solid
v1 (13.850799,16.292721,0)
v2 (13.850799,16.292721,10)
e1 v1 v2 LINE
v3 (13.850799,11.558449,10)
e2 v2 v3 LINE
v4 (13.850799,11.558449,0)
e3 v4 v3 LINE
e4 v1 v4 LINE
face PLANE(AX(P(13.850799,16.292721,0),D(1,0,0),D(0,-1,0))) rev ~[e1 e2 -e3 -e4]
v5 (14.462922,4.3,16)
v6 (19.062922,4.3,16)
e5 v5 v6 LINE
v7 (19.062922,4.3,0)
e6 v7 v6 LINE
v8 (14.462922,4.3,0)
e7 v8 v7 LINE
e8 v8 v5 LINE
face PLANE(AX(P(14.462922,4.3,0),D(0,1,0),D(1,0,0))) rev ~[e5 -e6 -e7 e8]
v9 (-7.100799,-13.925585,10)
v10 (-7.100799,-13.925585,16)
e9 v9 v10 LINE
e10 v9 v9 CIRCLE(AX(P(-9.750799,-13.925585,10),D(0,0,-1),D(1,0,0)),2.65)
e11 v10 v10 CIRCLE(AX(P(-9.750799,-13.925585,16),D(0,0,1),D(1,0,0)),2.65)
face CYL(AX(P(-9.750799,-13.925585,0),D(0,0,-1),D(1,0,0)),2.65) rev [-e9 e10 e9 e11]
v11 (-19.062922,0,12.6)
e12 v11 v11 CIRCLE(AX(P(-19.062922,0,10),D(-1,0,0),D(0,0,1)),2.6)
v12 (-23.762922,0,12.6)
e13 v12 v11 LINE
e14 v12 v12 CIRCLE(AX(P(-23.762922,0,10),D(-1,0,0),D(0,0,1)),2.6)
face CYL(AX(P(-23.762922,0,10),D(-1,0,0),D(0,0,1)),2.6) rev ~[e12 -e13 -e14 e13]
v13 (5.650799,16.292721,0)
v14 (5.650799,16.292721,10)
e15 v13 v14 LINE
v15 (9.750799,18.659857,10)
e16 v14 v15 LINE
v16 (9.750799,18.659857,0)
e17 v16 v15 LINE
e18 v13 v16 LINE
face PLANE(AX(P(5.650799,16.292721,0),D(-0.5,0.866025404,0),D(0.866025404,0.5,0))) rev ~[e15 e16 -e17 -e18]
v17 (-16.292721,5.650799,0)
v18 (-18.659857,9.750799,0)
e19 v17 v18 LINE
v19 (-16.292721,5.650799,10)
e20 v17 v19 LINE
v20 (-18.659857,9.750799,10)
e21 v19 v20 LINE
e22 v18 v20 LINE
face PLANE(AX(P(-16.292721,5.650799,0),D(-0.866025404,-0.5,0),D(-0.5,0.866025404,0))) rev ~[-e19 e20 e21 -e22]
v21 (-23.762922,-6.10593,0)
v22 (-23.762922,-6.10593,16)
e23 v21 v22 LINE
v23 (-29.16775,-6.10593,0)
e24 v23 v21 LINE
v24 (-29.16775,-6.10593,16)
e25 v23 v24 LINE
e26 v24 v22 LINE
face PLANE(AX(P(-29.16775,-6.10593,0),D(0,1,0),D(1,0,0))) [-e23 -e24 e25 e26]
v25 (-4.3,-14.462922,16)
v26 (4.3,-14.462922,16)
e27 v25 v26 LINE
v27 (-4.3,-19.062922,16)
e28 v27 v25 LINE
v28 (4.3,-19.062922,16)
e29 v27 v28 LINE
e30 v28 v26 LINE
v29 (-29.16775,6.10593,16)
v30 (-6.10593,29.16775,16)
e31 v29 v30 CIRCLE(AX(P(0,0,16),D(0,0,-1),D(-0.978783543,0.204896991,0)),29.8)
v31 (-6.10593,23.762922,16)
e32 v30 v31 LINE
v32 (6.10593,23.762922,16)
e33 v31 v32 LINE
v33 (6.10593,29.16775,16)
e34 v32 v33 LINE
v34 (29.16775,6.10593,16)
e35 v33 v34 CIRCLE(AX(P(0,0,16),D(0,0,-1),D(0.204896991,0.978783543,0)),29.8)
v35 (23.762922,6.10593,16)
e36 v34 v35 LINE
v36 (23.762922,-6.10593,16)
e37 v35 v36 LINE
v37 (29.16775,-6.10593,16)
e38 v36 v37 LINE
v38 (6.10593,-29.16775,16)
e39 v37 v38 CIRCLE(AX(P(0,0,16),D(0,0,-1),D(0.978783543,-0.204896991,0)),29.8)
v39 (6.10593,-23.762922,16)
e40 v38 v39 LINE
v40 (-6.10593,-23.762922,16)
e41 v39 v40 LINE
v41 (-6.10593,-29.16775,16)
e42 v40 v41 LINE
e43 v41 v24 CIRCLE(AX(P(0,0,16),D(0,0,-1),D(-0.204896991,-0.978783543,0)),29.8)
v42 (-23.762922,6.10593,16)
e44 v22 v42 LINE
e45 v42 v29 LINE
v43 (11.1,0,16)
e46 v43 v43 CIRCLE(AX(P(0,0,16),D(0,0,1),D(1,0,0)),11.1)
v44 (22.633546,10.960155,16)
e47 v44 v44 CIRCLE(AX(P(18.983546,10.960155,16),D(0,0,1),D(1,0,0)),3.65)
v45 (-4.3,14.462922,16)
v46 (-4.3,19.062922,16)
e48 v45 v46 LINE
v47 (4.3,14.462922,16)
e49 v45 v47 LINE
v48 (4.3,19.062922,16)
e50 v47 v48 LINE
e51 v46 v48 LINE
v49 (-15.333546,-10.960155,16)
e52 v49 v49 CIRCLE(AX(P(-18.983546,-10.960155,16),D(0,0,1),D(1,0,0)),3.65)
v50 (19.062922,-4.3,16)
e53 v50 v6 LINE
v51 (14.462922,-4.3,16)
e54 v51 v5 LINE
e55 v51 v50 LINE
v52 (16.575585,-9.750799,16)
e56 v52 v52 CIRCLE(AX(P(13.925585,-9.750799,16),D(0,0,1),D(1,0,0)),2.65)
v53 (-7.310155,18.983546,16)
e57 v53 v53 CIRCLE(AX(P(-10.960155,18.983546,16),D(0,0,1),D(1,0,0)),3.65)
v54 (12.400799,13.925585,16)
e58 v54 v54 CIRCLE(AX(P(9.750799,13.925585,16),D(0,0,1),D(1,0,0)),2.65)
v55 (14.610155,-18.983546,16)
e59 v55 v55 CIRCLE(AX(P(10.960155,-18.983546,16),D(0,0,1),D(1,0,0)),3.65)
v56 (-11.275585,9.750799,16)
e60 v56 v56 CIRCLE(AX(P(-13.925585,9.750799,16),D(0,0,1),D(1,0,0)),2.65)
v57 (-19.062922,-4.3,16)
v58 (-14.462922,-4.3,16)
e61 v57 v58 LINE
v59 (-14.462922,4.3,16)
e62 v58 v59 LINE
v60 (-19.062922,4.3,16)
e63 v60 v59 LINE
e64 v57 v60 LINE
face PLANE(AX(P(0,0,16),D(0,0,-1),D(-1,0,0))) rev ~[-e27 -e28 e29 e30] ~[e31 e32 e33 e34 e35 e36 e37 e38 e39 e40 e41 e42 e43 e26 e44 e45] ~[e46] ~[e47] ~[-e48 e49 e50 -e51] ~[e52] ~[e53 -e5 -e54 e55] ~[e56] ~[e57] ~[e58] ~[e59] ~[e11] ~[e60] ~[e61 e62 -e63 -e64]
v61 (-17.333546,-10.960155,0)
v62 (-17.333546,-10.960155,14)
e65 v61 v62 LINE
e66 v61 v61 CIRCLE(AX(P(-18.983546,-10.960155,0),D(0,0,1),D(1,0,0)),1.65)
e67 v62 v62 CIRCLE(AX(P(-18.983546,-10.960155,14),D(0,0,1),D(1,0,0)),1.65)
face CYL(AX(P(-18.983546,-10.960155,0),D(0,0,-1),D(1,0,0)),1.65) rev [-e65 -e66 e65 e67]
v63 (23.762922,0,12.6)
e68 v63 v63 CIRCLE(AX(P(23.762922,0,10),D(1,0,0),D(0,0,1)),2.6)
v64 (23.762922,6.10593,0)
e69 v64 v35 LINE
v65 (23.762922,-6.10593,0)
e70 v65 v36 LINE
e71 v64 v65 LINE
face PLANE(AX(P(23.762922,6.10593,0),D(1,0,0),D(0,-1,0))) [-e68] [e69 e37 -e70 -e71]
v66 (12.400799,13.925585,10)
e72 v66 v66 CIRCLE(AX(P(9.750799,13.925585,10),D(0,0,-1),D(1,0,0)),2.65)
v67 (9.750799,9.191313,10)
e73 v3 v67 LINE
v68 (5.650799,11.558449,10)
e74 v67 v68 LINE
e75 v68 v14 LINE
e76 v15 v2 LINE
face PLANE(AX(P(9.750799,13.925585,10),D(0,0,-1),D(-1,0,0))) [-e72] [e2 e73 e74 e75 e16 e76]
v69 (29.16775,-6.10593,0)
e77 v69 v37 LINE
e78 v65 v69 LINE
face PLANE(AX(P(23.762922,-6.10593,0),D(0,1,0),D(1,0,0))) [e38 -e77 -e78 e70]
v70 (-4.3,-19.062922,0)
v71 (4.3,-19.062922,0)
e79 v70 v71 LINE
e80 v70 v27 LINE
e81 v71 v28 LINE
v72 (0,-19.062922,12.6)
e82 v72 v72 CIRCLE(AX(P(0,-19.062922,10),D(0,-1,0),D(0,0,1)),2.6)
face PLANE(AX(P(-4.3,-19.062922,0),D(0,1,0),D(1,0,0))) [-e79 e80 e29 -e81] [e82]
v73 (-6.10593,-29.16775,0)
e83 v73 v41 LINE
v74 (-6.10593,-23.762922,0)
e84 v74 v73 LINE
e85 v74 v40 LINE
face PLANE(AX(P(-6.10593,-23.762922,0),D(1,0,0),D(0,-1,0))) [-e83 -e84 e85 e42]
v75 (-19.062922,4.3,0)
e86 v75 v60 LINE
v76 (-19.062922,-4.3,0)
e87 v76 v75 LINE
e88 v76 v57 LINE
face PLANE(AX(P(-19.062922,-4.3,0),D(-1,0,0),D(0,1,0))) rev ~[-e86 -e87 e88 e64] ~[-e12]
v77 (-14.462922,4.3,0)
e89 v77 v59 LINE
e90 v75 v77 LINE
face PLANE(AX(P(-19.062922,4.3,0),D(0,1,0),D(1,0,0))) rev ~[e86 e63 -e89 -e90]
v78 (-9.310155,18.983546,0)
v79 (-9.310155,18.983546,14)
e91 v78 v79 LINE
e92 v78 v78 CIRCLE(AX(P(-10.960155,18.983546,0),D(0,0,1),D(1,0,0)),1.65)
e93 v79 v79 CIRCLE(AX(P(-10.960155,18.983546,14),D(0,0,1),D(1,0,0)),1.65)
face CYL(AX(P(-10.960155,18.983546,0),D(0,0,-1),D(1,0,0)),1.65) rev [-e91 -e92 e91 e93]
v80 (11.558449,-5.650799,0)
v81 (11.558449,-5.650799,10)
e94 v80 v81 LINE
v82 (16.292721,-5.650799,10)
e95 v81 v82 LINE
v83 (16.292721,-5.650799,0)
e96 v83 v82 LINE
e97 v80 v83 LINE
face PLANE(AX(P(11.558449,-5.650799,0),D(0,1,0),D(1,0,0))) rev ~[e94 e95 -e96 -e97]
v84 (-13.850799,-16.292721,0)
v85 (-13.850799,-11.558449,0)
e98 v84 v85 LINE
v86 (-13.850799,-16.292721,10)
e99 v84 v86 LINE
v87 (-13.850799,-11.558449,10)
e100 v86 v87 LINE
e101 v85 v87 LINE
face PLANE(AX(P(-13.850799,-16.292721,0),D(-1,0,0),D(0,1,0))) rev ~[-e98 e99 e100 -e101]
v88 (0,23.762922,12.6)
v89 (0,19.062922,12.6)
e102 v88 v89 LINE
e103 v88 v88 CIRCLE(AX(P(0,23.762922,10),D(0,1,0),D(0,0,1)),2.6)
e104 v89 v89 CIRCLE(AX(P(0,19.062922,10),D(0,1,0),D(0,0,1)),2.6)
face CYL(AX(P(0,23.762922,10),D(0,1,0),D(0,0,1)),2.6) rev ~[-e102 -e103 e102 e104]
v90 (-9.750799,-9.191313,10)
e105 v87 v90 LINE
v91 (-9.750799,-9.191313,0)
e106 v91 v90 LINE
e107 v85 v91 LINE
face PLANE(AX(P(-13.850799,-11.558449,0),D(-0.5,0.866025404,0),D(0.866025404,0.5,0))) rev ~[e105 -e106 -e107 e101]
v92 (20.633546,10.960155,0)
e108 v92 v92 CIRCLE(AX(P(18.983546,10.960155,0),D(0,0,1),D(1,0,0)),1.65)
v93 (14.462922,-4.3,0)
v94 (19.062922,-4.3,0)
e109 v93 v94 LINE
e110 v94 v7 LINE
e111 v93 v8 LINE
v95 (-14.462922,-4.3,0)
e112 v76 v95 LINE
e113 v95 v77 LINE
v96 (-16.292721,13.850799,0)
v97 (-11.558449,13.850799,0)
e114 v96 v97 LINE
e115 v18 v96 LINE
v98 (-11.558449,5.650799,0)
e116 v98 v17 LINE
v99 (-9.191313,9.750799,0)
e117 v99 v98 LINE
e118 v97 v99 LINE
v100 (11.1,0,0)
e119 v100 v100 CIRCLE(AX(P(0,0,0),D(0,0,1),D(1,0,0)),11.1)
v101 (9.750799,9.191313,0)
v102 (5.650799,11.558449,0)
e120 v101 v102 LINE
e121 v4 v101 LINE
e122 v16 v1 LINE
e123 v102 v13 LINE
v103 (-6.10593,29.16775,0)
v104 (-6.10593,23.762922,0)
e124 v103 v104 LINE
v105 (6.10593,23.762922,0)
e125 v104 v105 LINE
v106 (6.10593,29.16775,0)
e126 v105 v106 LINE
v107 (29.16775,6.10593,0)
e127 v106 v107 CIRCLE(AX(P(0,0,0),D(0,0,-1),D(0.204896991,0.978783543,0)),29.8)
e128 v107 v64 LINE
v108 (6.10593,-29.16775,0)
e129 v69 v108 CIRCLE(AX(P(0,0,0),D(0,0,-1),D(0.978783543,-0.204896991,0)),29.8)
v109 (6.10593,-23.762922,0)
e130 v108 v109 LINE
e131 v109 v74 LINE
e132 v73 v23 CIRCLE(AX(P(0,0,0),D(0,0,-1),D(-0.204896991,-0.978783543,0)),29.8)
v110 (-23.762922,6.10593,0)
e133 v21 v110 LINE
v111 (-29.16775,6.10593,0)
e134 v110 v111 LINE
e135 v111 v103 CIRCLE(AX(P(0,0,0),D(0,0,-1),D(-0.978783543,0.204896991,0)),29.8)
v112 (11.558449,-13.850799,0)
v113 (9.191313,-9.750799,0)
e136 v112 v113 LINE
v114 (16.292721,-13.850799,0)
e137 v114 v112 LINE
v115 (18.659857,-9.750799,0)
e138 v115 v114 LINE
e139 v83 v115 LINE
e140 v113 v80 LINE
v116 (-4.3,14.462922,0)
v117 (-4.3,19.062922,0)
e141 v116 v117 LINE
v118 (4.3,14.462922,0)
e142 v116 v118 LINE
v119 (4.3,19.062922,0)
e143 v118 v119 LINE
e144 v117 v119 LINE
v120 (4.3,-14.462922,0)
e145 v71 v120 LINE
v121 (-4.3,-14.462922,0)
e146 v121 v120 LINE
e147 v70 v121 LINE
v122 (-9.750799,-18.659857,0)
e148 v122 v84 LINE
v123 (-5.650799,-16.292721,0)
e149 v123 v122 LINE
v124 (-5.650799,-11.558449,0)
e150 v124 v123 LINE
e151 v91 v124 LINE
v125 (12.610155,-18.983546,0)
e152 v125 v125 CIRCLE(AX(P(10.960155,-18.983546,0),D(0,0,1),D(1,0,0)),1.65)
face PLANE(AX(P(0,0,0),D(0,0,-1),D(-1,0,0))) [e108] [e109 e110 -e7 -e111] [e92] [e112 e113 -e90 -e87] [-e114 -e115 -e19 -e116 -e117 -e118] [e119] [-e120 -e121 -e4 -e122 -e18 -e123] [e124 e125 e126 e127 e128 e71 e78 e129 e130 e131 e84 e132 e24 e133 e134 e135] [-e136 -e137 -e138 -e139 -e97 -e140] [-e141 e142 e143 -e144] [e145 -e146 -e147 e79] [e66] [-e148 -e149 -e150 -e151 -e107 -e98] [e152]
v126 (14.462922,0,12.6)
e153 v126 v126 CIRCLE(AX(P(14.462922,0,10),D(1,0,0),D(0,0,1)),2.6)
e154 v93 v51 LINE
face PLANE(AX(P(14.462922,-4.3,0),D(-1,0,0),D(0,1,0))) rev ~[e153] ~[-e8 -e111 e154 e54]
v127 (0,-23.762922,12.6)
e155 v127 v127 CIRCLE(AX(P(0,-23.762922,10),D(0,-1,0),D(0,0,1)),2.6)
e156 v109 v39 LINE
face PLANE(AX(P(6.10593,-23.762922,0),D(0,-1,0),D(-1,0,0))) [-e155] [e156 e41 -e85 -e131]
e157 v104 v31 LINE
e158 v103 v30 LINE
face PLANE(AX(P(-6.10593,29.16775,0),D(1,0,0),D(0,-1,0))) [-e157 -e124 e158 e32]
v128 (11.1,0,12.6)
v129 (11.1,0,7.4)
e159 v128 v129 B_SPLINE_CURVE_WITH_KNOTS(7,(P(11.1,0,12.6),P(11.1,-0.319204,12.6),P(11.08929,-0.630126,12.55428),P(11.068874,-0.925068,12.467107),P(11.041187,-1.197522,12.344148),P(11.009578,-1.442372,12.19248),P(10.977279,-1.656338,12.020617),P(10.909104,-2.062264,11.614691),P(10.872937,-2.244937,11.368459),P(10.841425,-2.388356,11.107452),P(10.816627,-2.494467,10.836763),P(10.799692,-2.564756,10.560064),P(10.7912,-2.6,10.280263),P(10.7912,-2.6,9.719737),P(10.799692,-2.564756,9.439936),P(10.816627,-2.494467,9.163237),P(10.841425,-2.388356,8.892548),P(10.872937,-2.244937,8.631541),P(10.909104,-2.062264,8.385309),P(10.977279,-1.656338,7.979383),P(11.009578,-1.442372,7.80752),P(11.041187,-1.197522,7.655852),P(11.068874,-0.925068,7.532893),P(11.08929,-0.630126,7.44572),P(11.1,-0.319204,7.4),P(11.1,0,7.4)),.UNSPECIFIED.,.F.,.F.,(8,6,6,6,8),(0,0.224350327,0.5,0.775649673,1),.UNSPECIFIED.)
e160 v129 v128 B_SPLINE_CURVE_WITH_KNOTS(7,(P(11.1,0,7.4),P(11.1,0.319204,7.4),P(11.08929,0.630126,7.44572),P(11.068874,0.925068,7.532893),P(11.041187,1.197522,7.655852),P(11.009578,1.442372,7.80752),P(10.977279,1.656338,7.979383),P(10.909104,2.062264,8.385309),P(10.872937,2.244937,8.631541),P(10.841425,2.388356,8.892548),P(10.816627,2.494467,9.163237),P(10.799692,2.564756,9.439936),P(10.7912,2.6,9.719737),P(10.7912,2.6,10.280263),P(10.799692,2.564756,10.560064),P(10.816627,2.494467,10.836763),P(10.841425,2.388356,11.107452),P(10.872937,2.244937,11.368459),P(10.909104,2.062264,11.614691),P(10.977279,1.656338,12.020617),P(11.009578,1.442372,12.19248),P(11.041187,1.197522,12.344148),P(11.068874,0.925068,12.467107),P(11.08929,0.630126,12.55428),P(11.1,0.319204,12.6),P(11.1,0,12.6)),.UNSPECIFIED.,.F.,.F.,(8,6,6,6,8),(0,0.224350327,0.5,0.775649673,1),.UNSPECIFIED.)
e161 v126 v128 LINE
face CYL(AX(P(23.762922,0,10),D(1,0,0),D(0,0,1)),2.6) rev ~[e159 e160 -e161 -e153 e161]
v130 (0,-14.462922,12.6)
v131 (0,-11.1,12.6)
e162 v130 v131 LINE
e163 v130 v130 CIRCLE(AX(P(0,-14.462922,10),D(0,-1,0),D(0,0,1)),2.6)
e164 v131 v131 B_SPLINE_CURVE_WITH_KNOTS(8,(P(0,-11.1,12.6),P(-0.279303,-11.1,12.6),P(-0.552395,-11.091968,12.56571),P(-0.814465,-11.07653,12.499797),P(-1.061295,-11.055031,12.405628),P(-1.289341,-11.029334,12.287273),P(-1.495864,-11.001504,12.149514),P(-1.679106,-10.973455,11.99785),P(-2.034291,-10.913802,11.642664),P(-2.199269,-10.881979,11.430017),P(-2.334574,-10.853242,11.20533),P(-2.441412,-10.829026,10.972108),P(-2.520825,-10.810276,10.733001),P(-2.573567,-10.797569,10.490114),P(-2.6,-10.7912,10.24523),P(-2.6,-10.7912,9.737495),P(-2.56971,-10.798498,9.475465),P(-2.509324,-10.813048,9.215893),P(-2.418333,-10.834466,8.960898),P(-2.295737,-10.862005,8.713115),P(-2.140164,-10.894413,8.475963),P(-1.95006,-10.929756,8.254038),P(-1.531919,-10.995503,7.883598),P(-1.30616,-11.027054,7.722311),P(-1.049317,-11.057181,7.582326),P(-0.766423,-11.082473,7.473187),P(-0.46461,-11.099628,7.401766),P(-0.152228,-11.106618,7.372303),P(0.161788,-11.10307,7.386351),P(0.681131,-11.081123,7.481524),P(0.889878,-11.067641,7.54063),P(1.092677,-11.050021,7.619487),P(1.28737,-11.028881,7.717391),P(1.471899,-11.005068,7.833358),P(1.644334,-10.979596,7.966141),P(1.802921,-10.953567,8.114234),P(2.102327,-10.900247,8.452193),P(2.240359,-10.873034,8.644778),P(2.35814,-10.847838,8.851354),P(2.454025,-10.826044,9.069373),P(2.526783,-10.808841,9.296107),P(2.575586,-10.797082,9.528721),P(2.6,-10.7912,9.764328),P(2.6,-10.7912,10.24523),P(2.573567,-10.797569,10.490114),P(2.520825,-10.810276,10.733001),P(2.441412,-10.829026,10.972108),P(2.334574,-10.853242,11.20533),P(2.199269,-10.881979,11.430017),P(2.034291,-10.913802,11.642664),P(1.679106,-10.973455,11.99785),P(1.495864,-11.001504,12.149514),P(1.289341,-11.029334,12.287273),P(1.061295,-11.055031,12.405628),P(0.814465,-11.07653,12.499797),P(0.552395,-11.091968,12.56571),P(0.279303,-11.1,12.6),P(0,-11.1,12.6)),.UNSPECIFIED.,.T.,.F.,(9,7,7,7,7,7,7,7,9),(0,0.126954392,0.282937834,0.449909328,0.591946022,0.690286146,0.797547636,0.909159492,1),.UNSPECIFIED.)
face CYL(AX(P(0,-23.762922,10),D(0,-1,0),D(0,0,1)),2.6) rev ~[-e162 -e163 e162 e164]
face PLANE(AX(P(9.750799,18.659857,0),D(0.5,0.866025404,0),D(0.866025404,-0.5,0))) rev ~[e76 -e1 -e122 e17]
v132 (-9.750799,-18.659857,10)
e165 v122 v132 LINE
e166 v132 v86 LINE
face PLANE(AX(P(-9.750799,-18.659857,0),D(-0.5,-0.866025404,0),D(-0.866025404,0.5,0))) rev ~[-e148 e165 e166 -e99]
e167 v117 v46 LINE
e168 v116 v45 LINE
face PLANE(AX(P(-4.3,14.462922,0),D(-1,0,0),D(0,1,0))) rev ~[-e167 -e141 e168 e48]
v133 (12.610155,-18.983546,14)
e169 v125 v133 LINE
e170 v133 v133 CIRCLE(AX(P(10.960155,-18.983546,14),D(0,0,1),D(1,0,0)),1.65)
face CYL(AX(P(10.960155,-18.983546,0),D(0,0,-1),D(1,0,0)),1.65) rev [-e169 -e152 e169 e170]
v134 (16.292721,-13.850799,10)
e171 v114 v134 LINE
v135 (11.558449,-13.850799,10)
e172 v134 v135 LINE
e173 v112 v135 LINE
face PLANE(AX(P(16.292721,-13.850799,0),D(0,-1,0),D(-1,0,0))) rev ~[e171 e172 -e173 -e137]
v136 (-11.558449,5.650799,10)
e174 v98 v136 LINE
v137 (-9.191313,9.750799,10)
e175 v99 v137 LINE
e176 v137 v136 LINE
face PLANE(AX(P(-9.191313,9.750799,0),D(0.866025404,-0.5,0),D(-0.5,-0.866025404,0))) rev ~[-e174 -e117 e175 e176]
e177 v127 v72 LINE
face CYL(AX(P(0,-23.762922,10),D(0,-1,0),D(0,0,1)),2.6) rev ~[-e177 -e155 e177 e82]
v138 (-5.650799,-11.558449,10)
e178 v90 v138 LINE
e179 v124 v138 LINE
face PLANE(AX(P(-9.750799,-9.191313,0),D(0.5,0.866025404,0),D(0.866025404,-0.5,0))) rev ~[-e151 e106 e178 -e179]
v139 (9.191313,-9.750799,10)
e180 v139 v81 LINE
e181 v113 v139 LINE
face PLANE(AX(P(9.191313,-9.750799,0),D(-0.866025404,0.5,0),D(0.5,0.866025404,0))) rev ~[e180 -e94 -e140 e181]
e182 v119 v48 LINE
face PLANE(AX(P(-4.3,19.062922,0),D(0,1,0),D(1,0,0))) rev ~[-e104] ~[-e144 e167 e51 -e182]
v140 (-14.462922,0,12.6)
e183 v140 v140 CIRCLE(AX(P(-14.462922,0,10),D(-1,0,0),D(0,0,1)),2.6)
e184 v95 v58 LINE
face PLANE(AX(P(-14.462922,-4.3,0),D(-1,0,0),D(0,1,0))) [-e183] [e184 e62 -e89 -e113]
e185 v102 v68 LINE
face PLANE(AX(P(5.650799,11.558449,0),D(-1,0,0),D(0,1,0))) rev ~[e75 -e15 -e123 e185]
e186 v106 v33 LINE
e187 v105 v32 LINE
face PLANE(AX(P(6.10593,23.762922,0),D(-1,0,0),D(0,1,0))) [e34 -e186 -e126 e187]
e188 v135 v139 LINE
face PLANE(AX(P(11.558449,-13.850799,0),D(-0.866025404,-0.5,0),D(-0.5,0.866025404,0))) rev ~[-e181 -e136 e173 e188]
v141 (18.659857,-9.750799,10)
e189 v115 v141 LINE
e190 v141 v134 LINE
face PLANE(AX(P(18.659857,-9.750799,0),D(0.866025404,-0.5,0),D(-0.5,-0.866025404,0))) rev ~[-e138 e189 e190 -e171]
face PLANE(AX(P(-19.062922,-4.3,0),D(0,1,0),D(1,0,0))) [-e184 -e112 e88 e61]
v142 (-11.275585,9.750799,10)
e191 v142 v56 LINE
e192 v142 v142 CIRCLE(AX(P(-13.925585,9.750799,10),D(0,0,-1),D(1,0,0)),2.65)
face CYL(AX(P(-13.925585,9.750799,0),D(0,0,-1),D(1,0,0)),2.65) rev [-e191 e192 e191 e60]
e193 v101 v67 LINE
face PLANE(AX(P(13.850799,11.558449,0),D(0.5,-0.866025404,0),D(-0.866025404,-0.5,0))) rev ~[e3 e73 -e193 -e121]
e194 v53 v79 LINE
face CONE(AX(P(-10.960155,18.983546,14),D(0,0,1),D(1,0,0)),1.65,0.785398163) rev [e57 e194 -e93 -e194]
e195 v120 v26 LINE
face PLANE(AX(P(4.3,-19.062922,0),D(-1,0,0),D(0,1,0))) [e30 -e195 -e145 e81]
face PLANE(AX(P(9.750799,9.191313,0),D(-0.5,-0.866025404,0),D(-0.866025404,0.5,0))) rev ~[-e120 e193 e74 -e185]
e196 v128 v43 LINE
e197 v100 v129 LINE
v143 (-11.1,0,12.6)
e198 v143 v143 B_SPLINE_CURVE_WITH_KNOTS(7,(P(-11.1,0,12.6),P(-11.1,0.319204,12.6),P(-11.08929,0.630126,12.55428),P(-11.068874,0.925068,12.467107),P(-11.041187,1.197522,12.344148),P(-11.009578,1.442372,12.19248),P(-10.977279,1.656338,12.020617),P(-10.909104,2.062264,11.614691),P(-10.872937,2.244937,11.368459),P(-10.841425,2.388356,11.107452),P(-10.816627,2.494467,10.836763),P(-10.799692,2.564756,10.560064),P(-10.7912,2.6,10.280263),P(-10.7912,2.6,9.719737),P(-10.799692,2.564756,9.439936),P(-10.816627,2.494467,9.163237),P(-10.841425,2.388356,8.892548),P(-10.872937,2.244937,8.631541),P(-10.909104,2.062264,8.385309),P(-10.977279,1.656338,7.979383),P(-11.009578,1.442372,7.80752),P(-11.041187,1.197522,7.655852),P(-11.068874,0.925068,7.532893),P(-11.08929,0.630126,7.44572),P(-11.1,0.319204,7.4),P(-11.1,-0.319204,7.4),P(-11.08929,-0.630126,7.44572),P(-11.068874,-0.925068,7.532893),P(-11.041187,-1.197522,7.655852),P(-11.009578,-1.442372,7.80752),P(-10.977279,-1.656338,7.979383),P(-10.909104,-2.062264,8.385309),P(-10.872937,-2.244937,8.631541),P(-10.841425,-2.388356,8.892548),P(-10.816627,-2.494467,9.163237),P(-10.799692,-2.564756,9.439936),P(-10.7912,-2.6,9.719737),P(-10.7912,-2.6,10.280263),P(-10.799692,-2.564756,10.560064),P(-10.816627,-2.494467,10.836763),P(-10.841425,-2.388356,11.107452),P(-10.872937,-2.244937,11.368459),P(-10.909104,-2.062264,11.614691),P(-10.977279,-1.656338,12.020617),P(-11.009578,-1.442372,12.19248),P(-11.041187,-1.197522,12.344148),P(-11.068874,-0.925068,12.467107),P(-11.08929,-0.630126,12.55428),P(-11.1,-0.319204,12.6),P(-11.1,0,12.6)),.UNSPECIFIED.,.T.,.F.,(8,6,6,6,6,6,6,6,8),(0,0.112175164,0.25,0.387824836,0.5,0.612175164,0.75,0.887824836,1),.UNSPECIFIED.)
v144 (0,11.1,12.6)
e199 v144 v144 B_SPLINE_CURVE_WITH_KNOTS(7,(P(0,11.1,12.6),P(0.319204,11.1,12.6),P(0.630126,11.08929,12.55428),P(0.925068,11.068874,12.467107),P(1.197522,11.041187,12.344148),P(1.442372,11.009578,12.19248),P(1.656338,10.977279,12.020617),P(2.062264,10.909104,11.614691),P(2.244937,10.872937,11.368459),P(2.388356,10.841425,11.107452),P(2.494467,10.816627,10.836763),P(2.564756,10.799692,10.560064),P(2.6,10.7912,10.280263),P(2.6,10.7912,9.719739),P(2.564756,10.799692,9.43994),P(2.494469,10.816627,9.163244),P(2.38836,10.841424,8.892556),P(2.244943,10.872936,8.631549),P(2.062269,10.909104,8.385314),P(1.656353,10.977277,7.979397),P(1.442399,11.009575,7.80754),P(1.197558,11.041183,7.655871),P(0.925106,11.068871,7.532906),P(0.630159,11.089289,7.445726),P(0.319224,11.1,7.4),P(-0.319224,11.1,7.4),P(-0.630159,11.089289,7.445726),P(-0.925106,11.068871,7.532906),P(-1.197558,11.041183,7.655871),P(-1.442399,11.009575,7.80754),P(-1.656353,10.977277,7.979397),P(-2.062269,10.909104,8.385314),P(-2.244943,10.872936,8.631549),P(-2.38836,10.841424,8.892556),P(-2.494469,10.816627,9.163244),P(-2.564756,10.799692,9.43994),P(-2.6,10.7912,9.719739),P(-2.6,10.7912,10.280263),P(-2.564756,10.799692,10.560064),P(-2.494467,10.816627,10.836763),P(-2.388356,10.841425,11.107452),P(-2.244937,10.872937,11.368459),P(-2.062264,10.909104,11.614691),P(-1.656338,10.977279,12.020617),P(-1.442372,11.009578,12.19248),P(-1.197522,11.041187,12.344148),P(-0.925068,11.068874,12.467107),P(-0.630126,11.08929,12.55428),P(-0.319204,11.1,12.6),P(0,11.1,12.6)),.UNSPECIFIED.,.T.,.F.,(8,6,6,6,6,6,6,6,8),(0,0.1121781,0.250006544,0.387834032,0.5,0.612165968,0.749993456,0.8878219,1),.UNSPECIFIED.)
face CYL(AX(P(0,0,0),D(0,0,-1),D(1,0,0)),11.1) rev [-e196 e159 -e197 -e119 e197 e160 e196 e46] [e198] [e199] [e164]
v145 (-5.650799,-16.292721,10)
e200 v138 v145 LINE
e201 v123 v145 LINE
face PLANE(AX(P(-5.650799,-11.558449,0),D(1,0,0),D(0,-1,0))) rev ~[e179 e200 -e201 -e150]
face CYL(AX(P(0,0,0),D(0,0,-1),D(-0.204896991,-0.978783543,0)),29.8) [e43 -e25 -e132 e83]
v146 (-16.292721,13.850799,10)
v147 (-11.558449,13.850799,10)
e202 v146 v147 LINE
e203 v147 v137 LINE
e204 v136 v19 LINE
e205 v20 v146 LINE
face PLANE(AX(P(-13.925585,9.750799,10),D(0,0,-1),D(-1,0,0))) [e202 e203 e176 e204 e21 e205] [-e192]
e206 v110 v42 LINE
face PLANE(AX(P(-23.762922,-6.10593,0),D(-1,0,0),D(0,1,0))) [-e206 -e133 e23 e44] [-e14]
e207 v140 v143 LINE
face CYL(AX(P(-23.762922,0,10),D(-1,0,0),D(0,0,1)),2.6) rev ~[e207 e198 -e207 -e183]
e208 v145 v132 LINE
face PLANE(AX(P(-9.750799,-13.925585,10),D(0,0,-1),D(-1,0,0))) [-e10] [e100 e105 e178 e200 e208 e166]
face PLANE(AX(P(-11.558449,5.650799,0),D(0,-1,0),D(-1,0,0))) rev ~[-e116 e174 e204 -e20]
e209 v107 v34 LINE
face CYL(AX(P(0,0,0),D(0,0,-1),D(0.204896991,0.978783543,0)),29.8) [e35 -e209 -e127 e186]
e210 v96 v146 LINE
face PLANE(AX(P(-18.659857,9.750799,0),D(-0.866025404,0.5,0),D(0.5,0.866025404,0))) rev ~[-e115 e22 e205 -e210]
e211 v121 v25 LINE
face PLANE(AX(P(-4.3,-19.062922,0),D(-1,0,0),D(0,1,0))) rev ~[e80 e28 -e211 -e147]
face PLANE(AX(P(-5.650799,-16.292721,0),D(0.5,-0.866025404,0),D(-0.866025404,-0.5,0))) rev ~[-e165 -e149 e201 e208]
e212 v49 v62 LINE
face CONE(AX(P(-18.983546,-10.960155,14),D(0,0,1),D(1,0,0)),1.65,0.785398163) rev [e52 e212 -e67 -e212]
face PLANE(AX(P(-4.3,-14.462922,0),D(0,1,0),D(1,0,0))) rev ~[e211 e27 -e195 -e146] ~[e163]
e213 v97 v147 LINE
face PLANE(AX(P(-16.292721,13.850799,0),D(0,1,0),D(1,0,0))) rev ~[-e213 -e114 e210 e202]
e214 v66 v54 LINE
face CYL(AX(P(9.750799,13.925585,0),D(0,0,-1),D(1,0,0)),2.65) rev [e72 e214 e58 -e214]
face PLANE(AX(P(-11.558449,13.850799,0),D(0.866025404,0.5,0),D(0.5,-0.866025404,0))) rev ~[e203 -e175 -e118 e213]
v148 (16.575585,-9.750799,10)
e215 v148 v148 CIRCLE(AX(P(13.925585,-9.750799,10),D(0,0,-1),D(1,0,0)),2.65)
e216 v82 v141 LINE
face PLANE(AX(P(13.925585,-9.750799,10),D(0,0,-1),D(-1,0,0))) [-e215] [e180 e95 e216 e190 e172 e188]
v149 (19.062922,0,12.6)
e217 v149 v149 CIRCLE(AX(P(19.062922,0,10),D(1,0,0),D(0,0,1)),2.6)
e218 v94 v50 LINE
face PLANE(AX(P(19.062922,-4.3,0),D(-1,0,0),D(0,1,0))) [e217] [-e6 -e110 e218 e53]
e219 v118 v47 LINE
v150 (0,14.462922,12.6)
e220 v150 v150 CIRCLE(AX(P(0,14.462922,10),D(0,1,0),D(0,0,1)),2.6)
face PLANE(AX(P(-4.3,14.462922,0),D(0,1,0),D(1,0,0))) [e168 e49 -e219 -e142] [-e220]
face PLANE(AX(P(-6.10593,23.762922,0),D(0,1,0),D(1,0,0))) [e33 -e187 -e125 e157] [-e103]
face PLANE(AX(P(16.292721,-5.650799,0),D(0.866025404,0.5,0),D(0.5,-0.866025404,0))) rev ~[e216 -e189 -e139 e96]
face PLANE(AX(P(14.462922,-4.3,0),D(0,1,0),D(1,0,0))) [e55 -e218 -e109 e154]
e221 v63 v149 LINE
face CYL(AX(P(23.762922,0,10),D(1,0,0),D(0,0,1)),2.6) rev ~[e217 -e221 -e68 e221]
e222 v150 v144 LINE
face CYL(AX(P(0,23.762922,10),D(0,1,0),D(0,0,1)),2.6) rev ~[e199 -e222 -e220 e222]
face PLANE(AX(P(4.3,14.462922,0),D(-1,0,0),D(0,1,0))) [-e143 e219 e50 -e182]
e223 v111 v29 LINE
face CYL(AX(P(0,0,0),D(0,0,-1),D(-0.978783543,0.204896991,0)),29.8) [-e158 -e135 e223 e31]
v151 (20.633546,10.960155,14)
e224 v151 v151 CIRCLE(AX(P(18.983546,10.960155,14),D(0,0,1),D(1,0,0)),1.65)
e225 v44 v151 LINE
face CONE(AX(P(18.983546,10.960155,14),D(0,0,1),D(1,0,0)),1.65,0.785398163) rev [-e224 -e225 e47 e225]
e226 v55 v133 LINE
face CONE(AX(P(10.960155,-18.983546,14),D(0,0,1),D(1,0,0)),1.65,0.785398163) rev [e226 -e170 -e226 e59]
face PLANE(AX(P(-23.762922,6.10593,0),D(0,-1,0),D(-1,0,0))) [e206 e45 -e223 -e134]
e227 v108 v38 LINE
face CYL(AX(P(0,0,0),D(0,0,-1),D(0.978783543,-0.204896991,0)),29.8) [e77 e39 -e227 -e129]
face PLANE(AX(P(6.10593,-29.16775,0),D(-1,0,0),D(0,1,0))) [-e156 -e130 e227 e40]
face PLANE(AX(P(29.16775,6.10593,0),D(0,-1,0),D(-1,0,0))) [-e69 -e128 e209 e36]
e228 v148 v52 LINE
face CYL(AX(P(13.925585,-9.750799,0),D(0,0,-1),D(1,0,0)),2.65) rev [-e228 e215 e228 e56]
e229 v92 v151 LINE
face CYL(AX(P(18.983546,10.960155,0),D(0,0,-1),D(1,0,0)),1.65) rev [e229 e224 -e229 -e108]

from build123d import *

# Parameters (mm, degrees)
ESQUISSE1_R                  = 11.1
ESQUISSE1_R_2                = 1.65
ESQUISSE1_R_3                = 2.65
ESQUISSE1_W                  = 8.6
ESQUISSE1_H                  = 4.6
ESQUISSE1_W_2                = 4.6
ESQUISSE1_H_2                = 8.6
BOSS_EXTRU_1_DEPTH           = 16
ENL_V_MAT_EXTRU_3_DEPTH      = 10
CHANFREIN1_SIZE              = 2
ESQUISSE6_R                  = 2.6
ENL_V_MAT_EXTRU_4_DEPTH      = 17
R_P_TITION_CIRCULAIRE1_COUNT = 4


with BuildPart() as part:
    # Esquisse1 → Boss.-Extru.1 (new body)
    with BuildSketch(Plane.XY):
        with BuildLine():
            Line((-6.105930323, 29.167749568), (-6.105930323, 23.762922109))
            Line((-6.105930323, 23.762922109), (6.105930323, 23.762922109))
            Line((6.105930323, 23.762922109), (6.105930323, 29.167749568))
            ThreePointArc((6.105930323, 29.167749568), (21.071782079, 21.071782079), (29.167749568, 6.105930323))
            Line((29.167749568, 6.105930323), (23.762922109, 6.105930323))
            Line((23.762922109, 6.105930323), (23.762922109, -6.105930323))
            Line((23.762922109, -6.105930323), (29.167749568, -6.105930323))
            ThreePointArc((29.167749568, -6.105930323), (21.071782079, -21.071782079), (6.105930323, -29.167749568))
            Line((6.105930323, -29.167749568), (6.105930323, -23.762922109))
            Line((6.105930323, -23.762922109), (-6.105930323, -23.762922109))
            Line((-6.105930323, -23.762922109), (-6.105930323, -29.167749568))
            ThreePointArc((-6.105930323, -29.167749568), (-21.071782079, -21.071782079), (-29.167749568, -6.105930323))
            Line((-29.167749568, -6.105930323), (-23.762922109, -6.105930323))
            Line((-23.762922109, -6.105930323), (-23.762922109, 6.105930323))
            Line((-23.762922109, 6.105930323), (-29.167749568, 6.105930323))
            ThreePointArc((-29.167749568, 6.105930323), (-21.071782079, 21.071782079), (-6.105930323, 29.167749568))
        make_face()
        Circle(ESQUISSE1_R, mode=Mode.SUBTRACT)
        with Locations((-10.960155108, 18.983545507)):
            Circle(ESQUISSE1_R_2, mode=Mode.SUBTRACT)
        with Locations((18.983545507, 10.960155108)):
            Circle(ESQUISSE1_R_2, mode=Mode.SUBTRACT)
        with Locations((10.960155108, -18.983545507)):
            Circle(ESQUISSE1_R_2, mode=Mode.SUBTRACT)
        with Locations((-18.983545507, -10.960155108)):
            Circle(ESQUISSE1_R_2, mode=Mode.SUBTRACT)
        with Locations((-13.925584753, 9.750799418)):
            Circle(ESQUISSE1_R_3, mode=Mode.SUBTRACT)
        with Locations((9.750799418, 13.925584753)):
            Circle(ESQUISSE1_R_3, mode=Mode.SUBTRACT)
        with Locations((13.925584753, -9.750799418)):
            Circle(ESQUISSE1_R_3, mode=Mode.SUBTRACT)
        with Locations((-9.750799418, -13.925584753)):
            Circle(ESQUISSE1_R_3, mode=Mode.SUBTRACT)
        with Locations((0, 16.762922109)):
            Rectangle(ESQUISSE1_W, ESQUISSE1_H, mode=Mode.SUBTRACT)
        with Locations((16.762922109, 0)):
            Rectangle(ESQUISSE1_W_2, ESQUISSE1_H_2, mode=Mode.SUBTRACT)
        with Locations((0, -16.762922109)):
            Rectangle(ESQUISSE1_W, ESQUISSE1_H, mode=Mode.SUBTRACT)
        with Locations((-16.762922109, 0)):
            Rectangle(ESQUISSE1_W_2, ESQUISSE1_H_2, mode=Mode.SUBTRACT)
    extrude(amount=BOSS_EXTRU_1_DEPTH)

    # Esquisse5 → Enlèv. mat.-Extru.3 (cut)
    with BuildSketch(Plane(origin=(0, 0, 0), x_dir=(-1, 0, 0), z_dir=(0, 0, -1))):
        Polygon((9.191312546, 9.750799418), (11.558448649, 5.650799418), (16.292720857, 5.650799418), (18.65985696, 9.750799418), (16.292720857, 13.850799418), (11.558448649, 13.850799418), align=None)
        Polygon((-9.750799418, 9.191312546), (-5.650799418, 11.558448649), (-5.650799418, 16.292720857), (-9.750799418, 18.65985696), (-13.850799418, 16.292720857), (-13.850799418, 11.558448649), align=None)
        Polygon((9.750799418, -9.191312546), (5.650799418, -11.558448649), (5.650799418, -16.292720857), (9.750799418, -18.65985696), (13.850799418, -16.292720857), (13.850799418, -11.558448649), align=None)
        Polygon((-9.191312546, -9.750799418), (-11.558448649, -5.650799418), (-16.292720857, -5.650799418), (-18.65985696, -9.750799418), (-16.292720857, -13.850799418), (-11.558448649, -13.850799418), align=None)
    extrude(amount=-ENL_V_MAT_EXTRU_3_DEPTH, mode=Mode.SUBTRACT)

    # Chanfrein1
    chanfrein1_edges = [part.edges().sort_by_distance(p)[0] for p in [
        (-12.610155108, 18.983545507, 16),
        (17.333545507, 10.960155108, 16),
        (9.310155108, -18.983545507, 16),
        (-20.633545507, -10.960155108, 16),
    ]]
    chamfer(chanfrein1_edges, length=CHANFREIN1_SIZE)

    # Esquisse6 → Enlèv. mat.-Extru.4 (cut)
    with BuildSketch(Plane.ZY.offset(23.762922109)):
        with Locations((10, 0)):
            Circle(ESQUISSE6_R)
    enl_v_mat_extru_4 = extrude(amount=-ENL_V_MAT_EXTRU_4_DEPTH, mode=Mode.SUBTRACT)

    # Répétition circulaire1: Enlèv. mat.-Extru.4 ×4 about axis
    r_p_tition_circulaire1_axis = Axis((0, 0, 0), (0, 0, 1))
    for i in range(1, R_P_TITION_CIRCULAIRE1_COUNT):
        add(enl_v_mat_extru_4.rotate(r_p_tition_circulaire1_axis, i * 360 / R_P_TITION_CIRCULAIRE1_COUNT), mode=Mode.SUBTRACT)


solid = part.part
